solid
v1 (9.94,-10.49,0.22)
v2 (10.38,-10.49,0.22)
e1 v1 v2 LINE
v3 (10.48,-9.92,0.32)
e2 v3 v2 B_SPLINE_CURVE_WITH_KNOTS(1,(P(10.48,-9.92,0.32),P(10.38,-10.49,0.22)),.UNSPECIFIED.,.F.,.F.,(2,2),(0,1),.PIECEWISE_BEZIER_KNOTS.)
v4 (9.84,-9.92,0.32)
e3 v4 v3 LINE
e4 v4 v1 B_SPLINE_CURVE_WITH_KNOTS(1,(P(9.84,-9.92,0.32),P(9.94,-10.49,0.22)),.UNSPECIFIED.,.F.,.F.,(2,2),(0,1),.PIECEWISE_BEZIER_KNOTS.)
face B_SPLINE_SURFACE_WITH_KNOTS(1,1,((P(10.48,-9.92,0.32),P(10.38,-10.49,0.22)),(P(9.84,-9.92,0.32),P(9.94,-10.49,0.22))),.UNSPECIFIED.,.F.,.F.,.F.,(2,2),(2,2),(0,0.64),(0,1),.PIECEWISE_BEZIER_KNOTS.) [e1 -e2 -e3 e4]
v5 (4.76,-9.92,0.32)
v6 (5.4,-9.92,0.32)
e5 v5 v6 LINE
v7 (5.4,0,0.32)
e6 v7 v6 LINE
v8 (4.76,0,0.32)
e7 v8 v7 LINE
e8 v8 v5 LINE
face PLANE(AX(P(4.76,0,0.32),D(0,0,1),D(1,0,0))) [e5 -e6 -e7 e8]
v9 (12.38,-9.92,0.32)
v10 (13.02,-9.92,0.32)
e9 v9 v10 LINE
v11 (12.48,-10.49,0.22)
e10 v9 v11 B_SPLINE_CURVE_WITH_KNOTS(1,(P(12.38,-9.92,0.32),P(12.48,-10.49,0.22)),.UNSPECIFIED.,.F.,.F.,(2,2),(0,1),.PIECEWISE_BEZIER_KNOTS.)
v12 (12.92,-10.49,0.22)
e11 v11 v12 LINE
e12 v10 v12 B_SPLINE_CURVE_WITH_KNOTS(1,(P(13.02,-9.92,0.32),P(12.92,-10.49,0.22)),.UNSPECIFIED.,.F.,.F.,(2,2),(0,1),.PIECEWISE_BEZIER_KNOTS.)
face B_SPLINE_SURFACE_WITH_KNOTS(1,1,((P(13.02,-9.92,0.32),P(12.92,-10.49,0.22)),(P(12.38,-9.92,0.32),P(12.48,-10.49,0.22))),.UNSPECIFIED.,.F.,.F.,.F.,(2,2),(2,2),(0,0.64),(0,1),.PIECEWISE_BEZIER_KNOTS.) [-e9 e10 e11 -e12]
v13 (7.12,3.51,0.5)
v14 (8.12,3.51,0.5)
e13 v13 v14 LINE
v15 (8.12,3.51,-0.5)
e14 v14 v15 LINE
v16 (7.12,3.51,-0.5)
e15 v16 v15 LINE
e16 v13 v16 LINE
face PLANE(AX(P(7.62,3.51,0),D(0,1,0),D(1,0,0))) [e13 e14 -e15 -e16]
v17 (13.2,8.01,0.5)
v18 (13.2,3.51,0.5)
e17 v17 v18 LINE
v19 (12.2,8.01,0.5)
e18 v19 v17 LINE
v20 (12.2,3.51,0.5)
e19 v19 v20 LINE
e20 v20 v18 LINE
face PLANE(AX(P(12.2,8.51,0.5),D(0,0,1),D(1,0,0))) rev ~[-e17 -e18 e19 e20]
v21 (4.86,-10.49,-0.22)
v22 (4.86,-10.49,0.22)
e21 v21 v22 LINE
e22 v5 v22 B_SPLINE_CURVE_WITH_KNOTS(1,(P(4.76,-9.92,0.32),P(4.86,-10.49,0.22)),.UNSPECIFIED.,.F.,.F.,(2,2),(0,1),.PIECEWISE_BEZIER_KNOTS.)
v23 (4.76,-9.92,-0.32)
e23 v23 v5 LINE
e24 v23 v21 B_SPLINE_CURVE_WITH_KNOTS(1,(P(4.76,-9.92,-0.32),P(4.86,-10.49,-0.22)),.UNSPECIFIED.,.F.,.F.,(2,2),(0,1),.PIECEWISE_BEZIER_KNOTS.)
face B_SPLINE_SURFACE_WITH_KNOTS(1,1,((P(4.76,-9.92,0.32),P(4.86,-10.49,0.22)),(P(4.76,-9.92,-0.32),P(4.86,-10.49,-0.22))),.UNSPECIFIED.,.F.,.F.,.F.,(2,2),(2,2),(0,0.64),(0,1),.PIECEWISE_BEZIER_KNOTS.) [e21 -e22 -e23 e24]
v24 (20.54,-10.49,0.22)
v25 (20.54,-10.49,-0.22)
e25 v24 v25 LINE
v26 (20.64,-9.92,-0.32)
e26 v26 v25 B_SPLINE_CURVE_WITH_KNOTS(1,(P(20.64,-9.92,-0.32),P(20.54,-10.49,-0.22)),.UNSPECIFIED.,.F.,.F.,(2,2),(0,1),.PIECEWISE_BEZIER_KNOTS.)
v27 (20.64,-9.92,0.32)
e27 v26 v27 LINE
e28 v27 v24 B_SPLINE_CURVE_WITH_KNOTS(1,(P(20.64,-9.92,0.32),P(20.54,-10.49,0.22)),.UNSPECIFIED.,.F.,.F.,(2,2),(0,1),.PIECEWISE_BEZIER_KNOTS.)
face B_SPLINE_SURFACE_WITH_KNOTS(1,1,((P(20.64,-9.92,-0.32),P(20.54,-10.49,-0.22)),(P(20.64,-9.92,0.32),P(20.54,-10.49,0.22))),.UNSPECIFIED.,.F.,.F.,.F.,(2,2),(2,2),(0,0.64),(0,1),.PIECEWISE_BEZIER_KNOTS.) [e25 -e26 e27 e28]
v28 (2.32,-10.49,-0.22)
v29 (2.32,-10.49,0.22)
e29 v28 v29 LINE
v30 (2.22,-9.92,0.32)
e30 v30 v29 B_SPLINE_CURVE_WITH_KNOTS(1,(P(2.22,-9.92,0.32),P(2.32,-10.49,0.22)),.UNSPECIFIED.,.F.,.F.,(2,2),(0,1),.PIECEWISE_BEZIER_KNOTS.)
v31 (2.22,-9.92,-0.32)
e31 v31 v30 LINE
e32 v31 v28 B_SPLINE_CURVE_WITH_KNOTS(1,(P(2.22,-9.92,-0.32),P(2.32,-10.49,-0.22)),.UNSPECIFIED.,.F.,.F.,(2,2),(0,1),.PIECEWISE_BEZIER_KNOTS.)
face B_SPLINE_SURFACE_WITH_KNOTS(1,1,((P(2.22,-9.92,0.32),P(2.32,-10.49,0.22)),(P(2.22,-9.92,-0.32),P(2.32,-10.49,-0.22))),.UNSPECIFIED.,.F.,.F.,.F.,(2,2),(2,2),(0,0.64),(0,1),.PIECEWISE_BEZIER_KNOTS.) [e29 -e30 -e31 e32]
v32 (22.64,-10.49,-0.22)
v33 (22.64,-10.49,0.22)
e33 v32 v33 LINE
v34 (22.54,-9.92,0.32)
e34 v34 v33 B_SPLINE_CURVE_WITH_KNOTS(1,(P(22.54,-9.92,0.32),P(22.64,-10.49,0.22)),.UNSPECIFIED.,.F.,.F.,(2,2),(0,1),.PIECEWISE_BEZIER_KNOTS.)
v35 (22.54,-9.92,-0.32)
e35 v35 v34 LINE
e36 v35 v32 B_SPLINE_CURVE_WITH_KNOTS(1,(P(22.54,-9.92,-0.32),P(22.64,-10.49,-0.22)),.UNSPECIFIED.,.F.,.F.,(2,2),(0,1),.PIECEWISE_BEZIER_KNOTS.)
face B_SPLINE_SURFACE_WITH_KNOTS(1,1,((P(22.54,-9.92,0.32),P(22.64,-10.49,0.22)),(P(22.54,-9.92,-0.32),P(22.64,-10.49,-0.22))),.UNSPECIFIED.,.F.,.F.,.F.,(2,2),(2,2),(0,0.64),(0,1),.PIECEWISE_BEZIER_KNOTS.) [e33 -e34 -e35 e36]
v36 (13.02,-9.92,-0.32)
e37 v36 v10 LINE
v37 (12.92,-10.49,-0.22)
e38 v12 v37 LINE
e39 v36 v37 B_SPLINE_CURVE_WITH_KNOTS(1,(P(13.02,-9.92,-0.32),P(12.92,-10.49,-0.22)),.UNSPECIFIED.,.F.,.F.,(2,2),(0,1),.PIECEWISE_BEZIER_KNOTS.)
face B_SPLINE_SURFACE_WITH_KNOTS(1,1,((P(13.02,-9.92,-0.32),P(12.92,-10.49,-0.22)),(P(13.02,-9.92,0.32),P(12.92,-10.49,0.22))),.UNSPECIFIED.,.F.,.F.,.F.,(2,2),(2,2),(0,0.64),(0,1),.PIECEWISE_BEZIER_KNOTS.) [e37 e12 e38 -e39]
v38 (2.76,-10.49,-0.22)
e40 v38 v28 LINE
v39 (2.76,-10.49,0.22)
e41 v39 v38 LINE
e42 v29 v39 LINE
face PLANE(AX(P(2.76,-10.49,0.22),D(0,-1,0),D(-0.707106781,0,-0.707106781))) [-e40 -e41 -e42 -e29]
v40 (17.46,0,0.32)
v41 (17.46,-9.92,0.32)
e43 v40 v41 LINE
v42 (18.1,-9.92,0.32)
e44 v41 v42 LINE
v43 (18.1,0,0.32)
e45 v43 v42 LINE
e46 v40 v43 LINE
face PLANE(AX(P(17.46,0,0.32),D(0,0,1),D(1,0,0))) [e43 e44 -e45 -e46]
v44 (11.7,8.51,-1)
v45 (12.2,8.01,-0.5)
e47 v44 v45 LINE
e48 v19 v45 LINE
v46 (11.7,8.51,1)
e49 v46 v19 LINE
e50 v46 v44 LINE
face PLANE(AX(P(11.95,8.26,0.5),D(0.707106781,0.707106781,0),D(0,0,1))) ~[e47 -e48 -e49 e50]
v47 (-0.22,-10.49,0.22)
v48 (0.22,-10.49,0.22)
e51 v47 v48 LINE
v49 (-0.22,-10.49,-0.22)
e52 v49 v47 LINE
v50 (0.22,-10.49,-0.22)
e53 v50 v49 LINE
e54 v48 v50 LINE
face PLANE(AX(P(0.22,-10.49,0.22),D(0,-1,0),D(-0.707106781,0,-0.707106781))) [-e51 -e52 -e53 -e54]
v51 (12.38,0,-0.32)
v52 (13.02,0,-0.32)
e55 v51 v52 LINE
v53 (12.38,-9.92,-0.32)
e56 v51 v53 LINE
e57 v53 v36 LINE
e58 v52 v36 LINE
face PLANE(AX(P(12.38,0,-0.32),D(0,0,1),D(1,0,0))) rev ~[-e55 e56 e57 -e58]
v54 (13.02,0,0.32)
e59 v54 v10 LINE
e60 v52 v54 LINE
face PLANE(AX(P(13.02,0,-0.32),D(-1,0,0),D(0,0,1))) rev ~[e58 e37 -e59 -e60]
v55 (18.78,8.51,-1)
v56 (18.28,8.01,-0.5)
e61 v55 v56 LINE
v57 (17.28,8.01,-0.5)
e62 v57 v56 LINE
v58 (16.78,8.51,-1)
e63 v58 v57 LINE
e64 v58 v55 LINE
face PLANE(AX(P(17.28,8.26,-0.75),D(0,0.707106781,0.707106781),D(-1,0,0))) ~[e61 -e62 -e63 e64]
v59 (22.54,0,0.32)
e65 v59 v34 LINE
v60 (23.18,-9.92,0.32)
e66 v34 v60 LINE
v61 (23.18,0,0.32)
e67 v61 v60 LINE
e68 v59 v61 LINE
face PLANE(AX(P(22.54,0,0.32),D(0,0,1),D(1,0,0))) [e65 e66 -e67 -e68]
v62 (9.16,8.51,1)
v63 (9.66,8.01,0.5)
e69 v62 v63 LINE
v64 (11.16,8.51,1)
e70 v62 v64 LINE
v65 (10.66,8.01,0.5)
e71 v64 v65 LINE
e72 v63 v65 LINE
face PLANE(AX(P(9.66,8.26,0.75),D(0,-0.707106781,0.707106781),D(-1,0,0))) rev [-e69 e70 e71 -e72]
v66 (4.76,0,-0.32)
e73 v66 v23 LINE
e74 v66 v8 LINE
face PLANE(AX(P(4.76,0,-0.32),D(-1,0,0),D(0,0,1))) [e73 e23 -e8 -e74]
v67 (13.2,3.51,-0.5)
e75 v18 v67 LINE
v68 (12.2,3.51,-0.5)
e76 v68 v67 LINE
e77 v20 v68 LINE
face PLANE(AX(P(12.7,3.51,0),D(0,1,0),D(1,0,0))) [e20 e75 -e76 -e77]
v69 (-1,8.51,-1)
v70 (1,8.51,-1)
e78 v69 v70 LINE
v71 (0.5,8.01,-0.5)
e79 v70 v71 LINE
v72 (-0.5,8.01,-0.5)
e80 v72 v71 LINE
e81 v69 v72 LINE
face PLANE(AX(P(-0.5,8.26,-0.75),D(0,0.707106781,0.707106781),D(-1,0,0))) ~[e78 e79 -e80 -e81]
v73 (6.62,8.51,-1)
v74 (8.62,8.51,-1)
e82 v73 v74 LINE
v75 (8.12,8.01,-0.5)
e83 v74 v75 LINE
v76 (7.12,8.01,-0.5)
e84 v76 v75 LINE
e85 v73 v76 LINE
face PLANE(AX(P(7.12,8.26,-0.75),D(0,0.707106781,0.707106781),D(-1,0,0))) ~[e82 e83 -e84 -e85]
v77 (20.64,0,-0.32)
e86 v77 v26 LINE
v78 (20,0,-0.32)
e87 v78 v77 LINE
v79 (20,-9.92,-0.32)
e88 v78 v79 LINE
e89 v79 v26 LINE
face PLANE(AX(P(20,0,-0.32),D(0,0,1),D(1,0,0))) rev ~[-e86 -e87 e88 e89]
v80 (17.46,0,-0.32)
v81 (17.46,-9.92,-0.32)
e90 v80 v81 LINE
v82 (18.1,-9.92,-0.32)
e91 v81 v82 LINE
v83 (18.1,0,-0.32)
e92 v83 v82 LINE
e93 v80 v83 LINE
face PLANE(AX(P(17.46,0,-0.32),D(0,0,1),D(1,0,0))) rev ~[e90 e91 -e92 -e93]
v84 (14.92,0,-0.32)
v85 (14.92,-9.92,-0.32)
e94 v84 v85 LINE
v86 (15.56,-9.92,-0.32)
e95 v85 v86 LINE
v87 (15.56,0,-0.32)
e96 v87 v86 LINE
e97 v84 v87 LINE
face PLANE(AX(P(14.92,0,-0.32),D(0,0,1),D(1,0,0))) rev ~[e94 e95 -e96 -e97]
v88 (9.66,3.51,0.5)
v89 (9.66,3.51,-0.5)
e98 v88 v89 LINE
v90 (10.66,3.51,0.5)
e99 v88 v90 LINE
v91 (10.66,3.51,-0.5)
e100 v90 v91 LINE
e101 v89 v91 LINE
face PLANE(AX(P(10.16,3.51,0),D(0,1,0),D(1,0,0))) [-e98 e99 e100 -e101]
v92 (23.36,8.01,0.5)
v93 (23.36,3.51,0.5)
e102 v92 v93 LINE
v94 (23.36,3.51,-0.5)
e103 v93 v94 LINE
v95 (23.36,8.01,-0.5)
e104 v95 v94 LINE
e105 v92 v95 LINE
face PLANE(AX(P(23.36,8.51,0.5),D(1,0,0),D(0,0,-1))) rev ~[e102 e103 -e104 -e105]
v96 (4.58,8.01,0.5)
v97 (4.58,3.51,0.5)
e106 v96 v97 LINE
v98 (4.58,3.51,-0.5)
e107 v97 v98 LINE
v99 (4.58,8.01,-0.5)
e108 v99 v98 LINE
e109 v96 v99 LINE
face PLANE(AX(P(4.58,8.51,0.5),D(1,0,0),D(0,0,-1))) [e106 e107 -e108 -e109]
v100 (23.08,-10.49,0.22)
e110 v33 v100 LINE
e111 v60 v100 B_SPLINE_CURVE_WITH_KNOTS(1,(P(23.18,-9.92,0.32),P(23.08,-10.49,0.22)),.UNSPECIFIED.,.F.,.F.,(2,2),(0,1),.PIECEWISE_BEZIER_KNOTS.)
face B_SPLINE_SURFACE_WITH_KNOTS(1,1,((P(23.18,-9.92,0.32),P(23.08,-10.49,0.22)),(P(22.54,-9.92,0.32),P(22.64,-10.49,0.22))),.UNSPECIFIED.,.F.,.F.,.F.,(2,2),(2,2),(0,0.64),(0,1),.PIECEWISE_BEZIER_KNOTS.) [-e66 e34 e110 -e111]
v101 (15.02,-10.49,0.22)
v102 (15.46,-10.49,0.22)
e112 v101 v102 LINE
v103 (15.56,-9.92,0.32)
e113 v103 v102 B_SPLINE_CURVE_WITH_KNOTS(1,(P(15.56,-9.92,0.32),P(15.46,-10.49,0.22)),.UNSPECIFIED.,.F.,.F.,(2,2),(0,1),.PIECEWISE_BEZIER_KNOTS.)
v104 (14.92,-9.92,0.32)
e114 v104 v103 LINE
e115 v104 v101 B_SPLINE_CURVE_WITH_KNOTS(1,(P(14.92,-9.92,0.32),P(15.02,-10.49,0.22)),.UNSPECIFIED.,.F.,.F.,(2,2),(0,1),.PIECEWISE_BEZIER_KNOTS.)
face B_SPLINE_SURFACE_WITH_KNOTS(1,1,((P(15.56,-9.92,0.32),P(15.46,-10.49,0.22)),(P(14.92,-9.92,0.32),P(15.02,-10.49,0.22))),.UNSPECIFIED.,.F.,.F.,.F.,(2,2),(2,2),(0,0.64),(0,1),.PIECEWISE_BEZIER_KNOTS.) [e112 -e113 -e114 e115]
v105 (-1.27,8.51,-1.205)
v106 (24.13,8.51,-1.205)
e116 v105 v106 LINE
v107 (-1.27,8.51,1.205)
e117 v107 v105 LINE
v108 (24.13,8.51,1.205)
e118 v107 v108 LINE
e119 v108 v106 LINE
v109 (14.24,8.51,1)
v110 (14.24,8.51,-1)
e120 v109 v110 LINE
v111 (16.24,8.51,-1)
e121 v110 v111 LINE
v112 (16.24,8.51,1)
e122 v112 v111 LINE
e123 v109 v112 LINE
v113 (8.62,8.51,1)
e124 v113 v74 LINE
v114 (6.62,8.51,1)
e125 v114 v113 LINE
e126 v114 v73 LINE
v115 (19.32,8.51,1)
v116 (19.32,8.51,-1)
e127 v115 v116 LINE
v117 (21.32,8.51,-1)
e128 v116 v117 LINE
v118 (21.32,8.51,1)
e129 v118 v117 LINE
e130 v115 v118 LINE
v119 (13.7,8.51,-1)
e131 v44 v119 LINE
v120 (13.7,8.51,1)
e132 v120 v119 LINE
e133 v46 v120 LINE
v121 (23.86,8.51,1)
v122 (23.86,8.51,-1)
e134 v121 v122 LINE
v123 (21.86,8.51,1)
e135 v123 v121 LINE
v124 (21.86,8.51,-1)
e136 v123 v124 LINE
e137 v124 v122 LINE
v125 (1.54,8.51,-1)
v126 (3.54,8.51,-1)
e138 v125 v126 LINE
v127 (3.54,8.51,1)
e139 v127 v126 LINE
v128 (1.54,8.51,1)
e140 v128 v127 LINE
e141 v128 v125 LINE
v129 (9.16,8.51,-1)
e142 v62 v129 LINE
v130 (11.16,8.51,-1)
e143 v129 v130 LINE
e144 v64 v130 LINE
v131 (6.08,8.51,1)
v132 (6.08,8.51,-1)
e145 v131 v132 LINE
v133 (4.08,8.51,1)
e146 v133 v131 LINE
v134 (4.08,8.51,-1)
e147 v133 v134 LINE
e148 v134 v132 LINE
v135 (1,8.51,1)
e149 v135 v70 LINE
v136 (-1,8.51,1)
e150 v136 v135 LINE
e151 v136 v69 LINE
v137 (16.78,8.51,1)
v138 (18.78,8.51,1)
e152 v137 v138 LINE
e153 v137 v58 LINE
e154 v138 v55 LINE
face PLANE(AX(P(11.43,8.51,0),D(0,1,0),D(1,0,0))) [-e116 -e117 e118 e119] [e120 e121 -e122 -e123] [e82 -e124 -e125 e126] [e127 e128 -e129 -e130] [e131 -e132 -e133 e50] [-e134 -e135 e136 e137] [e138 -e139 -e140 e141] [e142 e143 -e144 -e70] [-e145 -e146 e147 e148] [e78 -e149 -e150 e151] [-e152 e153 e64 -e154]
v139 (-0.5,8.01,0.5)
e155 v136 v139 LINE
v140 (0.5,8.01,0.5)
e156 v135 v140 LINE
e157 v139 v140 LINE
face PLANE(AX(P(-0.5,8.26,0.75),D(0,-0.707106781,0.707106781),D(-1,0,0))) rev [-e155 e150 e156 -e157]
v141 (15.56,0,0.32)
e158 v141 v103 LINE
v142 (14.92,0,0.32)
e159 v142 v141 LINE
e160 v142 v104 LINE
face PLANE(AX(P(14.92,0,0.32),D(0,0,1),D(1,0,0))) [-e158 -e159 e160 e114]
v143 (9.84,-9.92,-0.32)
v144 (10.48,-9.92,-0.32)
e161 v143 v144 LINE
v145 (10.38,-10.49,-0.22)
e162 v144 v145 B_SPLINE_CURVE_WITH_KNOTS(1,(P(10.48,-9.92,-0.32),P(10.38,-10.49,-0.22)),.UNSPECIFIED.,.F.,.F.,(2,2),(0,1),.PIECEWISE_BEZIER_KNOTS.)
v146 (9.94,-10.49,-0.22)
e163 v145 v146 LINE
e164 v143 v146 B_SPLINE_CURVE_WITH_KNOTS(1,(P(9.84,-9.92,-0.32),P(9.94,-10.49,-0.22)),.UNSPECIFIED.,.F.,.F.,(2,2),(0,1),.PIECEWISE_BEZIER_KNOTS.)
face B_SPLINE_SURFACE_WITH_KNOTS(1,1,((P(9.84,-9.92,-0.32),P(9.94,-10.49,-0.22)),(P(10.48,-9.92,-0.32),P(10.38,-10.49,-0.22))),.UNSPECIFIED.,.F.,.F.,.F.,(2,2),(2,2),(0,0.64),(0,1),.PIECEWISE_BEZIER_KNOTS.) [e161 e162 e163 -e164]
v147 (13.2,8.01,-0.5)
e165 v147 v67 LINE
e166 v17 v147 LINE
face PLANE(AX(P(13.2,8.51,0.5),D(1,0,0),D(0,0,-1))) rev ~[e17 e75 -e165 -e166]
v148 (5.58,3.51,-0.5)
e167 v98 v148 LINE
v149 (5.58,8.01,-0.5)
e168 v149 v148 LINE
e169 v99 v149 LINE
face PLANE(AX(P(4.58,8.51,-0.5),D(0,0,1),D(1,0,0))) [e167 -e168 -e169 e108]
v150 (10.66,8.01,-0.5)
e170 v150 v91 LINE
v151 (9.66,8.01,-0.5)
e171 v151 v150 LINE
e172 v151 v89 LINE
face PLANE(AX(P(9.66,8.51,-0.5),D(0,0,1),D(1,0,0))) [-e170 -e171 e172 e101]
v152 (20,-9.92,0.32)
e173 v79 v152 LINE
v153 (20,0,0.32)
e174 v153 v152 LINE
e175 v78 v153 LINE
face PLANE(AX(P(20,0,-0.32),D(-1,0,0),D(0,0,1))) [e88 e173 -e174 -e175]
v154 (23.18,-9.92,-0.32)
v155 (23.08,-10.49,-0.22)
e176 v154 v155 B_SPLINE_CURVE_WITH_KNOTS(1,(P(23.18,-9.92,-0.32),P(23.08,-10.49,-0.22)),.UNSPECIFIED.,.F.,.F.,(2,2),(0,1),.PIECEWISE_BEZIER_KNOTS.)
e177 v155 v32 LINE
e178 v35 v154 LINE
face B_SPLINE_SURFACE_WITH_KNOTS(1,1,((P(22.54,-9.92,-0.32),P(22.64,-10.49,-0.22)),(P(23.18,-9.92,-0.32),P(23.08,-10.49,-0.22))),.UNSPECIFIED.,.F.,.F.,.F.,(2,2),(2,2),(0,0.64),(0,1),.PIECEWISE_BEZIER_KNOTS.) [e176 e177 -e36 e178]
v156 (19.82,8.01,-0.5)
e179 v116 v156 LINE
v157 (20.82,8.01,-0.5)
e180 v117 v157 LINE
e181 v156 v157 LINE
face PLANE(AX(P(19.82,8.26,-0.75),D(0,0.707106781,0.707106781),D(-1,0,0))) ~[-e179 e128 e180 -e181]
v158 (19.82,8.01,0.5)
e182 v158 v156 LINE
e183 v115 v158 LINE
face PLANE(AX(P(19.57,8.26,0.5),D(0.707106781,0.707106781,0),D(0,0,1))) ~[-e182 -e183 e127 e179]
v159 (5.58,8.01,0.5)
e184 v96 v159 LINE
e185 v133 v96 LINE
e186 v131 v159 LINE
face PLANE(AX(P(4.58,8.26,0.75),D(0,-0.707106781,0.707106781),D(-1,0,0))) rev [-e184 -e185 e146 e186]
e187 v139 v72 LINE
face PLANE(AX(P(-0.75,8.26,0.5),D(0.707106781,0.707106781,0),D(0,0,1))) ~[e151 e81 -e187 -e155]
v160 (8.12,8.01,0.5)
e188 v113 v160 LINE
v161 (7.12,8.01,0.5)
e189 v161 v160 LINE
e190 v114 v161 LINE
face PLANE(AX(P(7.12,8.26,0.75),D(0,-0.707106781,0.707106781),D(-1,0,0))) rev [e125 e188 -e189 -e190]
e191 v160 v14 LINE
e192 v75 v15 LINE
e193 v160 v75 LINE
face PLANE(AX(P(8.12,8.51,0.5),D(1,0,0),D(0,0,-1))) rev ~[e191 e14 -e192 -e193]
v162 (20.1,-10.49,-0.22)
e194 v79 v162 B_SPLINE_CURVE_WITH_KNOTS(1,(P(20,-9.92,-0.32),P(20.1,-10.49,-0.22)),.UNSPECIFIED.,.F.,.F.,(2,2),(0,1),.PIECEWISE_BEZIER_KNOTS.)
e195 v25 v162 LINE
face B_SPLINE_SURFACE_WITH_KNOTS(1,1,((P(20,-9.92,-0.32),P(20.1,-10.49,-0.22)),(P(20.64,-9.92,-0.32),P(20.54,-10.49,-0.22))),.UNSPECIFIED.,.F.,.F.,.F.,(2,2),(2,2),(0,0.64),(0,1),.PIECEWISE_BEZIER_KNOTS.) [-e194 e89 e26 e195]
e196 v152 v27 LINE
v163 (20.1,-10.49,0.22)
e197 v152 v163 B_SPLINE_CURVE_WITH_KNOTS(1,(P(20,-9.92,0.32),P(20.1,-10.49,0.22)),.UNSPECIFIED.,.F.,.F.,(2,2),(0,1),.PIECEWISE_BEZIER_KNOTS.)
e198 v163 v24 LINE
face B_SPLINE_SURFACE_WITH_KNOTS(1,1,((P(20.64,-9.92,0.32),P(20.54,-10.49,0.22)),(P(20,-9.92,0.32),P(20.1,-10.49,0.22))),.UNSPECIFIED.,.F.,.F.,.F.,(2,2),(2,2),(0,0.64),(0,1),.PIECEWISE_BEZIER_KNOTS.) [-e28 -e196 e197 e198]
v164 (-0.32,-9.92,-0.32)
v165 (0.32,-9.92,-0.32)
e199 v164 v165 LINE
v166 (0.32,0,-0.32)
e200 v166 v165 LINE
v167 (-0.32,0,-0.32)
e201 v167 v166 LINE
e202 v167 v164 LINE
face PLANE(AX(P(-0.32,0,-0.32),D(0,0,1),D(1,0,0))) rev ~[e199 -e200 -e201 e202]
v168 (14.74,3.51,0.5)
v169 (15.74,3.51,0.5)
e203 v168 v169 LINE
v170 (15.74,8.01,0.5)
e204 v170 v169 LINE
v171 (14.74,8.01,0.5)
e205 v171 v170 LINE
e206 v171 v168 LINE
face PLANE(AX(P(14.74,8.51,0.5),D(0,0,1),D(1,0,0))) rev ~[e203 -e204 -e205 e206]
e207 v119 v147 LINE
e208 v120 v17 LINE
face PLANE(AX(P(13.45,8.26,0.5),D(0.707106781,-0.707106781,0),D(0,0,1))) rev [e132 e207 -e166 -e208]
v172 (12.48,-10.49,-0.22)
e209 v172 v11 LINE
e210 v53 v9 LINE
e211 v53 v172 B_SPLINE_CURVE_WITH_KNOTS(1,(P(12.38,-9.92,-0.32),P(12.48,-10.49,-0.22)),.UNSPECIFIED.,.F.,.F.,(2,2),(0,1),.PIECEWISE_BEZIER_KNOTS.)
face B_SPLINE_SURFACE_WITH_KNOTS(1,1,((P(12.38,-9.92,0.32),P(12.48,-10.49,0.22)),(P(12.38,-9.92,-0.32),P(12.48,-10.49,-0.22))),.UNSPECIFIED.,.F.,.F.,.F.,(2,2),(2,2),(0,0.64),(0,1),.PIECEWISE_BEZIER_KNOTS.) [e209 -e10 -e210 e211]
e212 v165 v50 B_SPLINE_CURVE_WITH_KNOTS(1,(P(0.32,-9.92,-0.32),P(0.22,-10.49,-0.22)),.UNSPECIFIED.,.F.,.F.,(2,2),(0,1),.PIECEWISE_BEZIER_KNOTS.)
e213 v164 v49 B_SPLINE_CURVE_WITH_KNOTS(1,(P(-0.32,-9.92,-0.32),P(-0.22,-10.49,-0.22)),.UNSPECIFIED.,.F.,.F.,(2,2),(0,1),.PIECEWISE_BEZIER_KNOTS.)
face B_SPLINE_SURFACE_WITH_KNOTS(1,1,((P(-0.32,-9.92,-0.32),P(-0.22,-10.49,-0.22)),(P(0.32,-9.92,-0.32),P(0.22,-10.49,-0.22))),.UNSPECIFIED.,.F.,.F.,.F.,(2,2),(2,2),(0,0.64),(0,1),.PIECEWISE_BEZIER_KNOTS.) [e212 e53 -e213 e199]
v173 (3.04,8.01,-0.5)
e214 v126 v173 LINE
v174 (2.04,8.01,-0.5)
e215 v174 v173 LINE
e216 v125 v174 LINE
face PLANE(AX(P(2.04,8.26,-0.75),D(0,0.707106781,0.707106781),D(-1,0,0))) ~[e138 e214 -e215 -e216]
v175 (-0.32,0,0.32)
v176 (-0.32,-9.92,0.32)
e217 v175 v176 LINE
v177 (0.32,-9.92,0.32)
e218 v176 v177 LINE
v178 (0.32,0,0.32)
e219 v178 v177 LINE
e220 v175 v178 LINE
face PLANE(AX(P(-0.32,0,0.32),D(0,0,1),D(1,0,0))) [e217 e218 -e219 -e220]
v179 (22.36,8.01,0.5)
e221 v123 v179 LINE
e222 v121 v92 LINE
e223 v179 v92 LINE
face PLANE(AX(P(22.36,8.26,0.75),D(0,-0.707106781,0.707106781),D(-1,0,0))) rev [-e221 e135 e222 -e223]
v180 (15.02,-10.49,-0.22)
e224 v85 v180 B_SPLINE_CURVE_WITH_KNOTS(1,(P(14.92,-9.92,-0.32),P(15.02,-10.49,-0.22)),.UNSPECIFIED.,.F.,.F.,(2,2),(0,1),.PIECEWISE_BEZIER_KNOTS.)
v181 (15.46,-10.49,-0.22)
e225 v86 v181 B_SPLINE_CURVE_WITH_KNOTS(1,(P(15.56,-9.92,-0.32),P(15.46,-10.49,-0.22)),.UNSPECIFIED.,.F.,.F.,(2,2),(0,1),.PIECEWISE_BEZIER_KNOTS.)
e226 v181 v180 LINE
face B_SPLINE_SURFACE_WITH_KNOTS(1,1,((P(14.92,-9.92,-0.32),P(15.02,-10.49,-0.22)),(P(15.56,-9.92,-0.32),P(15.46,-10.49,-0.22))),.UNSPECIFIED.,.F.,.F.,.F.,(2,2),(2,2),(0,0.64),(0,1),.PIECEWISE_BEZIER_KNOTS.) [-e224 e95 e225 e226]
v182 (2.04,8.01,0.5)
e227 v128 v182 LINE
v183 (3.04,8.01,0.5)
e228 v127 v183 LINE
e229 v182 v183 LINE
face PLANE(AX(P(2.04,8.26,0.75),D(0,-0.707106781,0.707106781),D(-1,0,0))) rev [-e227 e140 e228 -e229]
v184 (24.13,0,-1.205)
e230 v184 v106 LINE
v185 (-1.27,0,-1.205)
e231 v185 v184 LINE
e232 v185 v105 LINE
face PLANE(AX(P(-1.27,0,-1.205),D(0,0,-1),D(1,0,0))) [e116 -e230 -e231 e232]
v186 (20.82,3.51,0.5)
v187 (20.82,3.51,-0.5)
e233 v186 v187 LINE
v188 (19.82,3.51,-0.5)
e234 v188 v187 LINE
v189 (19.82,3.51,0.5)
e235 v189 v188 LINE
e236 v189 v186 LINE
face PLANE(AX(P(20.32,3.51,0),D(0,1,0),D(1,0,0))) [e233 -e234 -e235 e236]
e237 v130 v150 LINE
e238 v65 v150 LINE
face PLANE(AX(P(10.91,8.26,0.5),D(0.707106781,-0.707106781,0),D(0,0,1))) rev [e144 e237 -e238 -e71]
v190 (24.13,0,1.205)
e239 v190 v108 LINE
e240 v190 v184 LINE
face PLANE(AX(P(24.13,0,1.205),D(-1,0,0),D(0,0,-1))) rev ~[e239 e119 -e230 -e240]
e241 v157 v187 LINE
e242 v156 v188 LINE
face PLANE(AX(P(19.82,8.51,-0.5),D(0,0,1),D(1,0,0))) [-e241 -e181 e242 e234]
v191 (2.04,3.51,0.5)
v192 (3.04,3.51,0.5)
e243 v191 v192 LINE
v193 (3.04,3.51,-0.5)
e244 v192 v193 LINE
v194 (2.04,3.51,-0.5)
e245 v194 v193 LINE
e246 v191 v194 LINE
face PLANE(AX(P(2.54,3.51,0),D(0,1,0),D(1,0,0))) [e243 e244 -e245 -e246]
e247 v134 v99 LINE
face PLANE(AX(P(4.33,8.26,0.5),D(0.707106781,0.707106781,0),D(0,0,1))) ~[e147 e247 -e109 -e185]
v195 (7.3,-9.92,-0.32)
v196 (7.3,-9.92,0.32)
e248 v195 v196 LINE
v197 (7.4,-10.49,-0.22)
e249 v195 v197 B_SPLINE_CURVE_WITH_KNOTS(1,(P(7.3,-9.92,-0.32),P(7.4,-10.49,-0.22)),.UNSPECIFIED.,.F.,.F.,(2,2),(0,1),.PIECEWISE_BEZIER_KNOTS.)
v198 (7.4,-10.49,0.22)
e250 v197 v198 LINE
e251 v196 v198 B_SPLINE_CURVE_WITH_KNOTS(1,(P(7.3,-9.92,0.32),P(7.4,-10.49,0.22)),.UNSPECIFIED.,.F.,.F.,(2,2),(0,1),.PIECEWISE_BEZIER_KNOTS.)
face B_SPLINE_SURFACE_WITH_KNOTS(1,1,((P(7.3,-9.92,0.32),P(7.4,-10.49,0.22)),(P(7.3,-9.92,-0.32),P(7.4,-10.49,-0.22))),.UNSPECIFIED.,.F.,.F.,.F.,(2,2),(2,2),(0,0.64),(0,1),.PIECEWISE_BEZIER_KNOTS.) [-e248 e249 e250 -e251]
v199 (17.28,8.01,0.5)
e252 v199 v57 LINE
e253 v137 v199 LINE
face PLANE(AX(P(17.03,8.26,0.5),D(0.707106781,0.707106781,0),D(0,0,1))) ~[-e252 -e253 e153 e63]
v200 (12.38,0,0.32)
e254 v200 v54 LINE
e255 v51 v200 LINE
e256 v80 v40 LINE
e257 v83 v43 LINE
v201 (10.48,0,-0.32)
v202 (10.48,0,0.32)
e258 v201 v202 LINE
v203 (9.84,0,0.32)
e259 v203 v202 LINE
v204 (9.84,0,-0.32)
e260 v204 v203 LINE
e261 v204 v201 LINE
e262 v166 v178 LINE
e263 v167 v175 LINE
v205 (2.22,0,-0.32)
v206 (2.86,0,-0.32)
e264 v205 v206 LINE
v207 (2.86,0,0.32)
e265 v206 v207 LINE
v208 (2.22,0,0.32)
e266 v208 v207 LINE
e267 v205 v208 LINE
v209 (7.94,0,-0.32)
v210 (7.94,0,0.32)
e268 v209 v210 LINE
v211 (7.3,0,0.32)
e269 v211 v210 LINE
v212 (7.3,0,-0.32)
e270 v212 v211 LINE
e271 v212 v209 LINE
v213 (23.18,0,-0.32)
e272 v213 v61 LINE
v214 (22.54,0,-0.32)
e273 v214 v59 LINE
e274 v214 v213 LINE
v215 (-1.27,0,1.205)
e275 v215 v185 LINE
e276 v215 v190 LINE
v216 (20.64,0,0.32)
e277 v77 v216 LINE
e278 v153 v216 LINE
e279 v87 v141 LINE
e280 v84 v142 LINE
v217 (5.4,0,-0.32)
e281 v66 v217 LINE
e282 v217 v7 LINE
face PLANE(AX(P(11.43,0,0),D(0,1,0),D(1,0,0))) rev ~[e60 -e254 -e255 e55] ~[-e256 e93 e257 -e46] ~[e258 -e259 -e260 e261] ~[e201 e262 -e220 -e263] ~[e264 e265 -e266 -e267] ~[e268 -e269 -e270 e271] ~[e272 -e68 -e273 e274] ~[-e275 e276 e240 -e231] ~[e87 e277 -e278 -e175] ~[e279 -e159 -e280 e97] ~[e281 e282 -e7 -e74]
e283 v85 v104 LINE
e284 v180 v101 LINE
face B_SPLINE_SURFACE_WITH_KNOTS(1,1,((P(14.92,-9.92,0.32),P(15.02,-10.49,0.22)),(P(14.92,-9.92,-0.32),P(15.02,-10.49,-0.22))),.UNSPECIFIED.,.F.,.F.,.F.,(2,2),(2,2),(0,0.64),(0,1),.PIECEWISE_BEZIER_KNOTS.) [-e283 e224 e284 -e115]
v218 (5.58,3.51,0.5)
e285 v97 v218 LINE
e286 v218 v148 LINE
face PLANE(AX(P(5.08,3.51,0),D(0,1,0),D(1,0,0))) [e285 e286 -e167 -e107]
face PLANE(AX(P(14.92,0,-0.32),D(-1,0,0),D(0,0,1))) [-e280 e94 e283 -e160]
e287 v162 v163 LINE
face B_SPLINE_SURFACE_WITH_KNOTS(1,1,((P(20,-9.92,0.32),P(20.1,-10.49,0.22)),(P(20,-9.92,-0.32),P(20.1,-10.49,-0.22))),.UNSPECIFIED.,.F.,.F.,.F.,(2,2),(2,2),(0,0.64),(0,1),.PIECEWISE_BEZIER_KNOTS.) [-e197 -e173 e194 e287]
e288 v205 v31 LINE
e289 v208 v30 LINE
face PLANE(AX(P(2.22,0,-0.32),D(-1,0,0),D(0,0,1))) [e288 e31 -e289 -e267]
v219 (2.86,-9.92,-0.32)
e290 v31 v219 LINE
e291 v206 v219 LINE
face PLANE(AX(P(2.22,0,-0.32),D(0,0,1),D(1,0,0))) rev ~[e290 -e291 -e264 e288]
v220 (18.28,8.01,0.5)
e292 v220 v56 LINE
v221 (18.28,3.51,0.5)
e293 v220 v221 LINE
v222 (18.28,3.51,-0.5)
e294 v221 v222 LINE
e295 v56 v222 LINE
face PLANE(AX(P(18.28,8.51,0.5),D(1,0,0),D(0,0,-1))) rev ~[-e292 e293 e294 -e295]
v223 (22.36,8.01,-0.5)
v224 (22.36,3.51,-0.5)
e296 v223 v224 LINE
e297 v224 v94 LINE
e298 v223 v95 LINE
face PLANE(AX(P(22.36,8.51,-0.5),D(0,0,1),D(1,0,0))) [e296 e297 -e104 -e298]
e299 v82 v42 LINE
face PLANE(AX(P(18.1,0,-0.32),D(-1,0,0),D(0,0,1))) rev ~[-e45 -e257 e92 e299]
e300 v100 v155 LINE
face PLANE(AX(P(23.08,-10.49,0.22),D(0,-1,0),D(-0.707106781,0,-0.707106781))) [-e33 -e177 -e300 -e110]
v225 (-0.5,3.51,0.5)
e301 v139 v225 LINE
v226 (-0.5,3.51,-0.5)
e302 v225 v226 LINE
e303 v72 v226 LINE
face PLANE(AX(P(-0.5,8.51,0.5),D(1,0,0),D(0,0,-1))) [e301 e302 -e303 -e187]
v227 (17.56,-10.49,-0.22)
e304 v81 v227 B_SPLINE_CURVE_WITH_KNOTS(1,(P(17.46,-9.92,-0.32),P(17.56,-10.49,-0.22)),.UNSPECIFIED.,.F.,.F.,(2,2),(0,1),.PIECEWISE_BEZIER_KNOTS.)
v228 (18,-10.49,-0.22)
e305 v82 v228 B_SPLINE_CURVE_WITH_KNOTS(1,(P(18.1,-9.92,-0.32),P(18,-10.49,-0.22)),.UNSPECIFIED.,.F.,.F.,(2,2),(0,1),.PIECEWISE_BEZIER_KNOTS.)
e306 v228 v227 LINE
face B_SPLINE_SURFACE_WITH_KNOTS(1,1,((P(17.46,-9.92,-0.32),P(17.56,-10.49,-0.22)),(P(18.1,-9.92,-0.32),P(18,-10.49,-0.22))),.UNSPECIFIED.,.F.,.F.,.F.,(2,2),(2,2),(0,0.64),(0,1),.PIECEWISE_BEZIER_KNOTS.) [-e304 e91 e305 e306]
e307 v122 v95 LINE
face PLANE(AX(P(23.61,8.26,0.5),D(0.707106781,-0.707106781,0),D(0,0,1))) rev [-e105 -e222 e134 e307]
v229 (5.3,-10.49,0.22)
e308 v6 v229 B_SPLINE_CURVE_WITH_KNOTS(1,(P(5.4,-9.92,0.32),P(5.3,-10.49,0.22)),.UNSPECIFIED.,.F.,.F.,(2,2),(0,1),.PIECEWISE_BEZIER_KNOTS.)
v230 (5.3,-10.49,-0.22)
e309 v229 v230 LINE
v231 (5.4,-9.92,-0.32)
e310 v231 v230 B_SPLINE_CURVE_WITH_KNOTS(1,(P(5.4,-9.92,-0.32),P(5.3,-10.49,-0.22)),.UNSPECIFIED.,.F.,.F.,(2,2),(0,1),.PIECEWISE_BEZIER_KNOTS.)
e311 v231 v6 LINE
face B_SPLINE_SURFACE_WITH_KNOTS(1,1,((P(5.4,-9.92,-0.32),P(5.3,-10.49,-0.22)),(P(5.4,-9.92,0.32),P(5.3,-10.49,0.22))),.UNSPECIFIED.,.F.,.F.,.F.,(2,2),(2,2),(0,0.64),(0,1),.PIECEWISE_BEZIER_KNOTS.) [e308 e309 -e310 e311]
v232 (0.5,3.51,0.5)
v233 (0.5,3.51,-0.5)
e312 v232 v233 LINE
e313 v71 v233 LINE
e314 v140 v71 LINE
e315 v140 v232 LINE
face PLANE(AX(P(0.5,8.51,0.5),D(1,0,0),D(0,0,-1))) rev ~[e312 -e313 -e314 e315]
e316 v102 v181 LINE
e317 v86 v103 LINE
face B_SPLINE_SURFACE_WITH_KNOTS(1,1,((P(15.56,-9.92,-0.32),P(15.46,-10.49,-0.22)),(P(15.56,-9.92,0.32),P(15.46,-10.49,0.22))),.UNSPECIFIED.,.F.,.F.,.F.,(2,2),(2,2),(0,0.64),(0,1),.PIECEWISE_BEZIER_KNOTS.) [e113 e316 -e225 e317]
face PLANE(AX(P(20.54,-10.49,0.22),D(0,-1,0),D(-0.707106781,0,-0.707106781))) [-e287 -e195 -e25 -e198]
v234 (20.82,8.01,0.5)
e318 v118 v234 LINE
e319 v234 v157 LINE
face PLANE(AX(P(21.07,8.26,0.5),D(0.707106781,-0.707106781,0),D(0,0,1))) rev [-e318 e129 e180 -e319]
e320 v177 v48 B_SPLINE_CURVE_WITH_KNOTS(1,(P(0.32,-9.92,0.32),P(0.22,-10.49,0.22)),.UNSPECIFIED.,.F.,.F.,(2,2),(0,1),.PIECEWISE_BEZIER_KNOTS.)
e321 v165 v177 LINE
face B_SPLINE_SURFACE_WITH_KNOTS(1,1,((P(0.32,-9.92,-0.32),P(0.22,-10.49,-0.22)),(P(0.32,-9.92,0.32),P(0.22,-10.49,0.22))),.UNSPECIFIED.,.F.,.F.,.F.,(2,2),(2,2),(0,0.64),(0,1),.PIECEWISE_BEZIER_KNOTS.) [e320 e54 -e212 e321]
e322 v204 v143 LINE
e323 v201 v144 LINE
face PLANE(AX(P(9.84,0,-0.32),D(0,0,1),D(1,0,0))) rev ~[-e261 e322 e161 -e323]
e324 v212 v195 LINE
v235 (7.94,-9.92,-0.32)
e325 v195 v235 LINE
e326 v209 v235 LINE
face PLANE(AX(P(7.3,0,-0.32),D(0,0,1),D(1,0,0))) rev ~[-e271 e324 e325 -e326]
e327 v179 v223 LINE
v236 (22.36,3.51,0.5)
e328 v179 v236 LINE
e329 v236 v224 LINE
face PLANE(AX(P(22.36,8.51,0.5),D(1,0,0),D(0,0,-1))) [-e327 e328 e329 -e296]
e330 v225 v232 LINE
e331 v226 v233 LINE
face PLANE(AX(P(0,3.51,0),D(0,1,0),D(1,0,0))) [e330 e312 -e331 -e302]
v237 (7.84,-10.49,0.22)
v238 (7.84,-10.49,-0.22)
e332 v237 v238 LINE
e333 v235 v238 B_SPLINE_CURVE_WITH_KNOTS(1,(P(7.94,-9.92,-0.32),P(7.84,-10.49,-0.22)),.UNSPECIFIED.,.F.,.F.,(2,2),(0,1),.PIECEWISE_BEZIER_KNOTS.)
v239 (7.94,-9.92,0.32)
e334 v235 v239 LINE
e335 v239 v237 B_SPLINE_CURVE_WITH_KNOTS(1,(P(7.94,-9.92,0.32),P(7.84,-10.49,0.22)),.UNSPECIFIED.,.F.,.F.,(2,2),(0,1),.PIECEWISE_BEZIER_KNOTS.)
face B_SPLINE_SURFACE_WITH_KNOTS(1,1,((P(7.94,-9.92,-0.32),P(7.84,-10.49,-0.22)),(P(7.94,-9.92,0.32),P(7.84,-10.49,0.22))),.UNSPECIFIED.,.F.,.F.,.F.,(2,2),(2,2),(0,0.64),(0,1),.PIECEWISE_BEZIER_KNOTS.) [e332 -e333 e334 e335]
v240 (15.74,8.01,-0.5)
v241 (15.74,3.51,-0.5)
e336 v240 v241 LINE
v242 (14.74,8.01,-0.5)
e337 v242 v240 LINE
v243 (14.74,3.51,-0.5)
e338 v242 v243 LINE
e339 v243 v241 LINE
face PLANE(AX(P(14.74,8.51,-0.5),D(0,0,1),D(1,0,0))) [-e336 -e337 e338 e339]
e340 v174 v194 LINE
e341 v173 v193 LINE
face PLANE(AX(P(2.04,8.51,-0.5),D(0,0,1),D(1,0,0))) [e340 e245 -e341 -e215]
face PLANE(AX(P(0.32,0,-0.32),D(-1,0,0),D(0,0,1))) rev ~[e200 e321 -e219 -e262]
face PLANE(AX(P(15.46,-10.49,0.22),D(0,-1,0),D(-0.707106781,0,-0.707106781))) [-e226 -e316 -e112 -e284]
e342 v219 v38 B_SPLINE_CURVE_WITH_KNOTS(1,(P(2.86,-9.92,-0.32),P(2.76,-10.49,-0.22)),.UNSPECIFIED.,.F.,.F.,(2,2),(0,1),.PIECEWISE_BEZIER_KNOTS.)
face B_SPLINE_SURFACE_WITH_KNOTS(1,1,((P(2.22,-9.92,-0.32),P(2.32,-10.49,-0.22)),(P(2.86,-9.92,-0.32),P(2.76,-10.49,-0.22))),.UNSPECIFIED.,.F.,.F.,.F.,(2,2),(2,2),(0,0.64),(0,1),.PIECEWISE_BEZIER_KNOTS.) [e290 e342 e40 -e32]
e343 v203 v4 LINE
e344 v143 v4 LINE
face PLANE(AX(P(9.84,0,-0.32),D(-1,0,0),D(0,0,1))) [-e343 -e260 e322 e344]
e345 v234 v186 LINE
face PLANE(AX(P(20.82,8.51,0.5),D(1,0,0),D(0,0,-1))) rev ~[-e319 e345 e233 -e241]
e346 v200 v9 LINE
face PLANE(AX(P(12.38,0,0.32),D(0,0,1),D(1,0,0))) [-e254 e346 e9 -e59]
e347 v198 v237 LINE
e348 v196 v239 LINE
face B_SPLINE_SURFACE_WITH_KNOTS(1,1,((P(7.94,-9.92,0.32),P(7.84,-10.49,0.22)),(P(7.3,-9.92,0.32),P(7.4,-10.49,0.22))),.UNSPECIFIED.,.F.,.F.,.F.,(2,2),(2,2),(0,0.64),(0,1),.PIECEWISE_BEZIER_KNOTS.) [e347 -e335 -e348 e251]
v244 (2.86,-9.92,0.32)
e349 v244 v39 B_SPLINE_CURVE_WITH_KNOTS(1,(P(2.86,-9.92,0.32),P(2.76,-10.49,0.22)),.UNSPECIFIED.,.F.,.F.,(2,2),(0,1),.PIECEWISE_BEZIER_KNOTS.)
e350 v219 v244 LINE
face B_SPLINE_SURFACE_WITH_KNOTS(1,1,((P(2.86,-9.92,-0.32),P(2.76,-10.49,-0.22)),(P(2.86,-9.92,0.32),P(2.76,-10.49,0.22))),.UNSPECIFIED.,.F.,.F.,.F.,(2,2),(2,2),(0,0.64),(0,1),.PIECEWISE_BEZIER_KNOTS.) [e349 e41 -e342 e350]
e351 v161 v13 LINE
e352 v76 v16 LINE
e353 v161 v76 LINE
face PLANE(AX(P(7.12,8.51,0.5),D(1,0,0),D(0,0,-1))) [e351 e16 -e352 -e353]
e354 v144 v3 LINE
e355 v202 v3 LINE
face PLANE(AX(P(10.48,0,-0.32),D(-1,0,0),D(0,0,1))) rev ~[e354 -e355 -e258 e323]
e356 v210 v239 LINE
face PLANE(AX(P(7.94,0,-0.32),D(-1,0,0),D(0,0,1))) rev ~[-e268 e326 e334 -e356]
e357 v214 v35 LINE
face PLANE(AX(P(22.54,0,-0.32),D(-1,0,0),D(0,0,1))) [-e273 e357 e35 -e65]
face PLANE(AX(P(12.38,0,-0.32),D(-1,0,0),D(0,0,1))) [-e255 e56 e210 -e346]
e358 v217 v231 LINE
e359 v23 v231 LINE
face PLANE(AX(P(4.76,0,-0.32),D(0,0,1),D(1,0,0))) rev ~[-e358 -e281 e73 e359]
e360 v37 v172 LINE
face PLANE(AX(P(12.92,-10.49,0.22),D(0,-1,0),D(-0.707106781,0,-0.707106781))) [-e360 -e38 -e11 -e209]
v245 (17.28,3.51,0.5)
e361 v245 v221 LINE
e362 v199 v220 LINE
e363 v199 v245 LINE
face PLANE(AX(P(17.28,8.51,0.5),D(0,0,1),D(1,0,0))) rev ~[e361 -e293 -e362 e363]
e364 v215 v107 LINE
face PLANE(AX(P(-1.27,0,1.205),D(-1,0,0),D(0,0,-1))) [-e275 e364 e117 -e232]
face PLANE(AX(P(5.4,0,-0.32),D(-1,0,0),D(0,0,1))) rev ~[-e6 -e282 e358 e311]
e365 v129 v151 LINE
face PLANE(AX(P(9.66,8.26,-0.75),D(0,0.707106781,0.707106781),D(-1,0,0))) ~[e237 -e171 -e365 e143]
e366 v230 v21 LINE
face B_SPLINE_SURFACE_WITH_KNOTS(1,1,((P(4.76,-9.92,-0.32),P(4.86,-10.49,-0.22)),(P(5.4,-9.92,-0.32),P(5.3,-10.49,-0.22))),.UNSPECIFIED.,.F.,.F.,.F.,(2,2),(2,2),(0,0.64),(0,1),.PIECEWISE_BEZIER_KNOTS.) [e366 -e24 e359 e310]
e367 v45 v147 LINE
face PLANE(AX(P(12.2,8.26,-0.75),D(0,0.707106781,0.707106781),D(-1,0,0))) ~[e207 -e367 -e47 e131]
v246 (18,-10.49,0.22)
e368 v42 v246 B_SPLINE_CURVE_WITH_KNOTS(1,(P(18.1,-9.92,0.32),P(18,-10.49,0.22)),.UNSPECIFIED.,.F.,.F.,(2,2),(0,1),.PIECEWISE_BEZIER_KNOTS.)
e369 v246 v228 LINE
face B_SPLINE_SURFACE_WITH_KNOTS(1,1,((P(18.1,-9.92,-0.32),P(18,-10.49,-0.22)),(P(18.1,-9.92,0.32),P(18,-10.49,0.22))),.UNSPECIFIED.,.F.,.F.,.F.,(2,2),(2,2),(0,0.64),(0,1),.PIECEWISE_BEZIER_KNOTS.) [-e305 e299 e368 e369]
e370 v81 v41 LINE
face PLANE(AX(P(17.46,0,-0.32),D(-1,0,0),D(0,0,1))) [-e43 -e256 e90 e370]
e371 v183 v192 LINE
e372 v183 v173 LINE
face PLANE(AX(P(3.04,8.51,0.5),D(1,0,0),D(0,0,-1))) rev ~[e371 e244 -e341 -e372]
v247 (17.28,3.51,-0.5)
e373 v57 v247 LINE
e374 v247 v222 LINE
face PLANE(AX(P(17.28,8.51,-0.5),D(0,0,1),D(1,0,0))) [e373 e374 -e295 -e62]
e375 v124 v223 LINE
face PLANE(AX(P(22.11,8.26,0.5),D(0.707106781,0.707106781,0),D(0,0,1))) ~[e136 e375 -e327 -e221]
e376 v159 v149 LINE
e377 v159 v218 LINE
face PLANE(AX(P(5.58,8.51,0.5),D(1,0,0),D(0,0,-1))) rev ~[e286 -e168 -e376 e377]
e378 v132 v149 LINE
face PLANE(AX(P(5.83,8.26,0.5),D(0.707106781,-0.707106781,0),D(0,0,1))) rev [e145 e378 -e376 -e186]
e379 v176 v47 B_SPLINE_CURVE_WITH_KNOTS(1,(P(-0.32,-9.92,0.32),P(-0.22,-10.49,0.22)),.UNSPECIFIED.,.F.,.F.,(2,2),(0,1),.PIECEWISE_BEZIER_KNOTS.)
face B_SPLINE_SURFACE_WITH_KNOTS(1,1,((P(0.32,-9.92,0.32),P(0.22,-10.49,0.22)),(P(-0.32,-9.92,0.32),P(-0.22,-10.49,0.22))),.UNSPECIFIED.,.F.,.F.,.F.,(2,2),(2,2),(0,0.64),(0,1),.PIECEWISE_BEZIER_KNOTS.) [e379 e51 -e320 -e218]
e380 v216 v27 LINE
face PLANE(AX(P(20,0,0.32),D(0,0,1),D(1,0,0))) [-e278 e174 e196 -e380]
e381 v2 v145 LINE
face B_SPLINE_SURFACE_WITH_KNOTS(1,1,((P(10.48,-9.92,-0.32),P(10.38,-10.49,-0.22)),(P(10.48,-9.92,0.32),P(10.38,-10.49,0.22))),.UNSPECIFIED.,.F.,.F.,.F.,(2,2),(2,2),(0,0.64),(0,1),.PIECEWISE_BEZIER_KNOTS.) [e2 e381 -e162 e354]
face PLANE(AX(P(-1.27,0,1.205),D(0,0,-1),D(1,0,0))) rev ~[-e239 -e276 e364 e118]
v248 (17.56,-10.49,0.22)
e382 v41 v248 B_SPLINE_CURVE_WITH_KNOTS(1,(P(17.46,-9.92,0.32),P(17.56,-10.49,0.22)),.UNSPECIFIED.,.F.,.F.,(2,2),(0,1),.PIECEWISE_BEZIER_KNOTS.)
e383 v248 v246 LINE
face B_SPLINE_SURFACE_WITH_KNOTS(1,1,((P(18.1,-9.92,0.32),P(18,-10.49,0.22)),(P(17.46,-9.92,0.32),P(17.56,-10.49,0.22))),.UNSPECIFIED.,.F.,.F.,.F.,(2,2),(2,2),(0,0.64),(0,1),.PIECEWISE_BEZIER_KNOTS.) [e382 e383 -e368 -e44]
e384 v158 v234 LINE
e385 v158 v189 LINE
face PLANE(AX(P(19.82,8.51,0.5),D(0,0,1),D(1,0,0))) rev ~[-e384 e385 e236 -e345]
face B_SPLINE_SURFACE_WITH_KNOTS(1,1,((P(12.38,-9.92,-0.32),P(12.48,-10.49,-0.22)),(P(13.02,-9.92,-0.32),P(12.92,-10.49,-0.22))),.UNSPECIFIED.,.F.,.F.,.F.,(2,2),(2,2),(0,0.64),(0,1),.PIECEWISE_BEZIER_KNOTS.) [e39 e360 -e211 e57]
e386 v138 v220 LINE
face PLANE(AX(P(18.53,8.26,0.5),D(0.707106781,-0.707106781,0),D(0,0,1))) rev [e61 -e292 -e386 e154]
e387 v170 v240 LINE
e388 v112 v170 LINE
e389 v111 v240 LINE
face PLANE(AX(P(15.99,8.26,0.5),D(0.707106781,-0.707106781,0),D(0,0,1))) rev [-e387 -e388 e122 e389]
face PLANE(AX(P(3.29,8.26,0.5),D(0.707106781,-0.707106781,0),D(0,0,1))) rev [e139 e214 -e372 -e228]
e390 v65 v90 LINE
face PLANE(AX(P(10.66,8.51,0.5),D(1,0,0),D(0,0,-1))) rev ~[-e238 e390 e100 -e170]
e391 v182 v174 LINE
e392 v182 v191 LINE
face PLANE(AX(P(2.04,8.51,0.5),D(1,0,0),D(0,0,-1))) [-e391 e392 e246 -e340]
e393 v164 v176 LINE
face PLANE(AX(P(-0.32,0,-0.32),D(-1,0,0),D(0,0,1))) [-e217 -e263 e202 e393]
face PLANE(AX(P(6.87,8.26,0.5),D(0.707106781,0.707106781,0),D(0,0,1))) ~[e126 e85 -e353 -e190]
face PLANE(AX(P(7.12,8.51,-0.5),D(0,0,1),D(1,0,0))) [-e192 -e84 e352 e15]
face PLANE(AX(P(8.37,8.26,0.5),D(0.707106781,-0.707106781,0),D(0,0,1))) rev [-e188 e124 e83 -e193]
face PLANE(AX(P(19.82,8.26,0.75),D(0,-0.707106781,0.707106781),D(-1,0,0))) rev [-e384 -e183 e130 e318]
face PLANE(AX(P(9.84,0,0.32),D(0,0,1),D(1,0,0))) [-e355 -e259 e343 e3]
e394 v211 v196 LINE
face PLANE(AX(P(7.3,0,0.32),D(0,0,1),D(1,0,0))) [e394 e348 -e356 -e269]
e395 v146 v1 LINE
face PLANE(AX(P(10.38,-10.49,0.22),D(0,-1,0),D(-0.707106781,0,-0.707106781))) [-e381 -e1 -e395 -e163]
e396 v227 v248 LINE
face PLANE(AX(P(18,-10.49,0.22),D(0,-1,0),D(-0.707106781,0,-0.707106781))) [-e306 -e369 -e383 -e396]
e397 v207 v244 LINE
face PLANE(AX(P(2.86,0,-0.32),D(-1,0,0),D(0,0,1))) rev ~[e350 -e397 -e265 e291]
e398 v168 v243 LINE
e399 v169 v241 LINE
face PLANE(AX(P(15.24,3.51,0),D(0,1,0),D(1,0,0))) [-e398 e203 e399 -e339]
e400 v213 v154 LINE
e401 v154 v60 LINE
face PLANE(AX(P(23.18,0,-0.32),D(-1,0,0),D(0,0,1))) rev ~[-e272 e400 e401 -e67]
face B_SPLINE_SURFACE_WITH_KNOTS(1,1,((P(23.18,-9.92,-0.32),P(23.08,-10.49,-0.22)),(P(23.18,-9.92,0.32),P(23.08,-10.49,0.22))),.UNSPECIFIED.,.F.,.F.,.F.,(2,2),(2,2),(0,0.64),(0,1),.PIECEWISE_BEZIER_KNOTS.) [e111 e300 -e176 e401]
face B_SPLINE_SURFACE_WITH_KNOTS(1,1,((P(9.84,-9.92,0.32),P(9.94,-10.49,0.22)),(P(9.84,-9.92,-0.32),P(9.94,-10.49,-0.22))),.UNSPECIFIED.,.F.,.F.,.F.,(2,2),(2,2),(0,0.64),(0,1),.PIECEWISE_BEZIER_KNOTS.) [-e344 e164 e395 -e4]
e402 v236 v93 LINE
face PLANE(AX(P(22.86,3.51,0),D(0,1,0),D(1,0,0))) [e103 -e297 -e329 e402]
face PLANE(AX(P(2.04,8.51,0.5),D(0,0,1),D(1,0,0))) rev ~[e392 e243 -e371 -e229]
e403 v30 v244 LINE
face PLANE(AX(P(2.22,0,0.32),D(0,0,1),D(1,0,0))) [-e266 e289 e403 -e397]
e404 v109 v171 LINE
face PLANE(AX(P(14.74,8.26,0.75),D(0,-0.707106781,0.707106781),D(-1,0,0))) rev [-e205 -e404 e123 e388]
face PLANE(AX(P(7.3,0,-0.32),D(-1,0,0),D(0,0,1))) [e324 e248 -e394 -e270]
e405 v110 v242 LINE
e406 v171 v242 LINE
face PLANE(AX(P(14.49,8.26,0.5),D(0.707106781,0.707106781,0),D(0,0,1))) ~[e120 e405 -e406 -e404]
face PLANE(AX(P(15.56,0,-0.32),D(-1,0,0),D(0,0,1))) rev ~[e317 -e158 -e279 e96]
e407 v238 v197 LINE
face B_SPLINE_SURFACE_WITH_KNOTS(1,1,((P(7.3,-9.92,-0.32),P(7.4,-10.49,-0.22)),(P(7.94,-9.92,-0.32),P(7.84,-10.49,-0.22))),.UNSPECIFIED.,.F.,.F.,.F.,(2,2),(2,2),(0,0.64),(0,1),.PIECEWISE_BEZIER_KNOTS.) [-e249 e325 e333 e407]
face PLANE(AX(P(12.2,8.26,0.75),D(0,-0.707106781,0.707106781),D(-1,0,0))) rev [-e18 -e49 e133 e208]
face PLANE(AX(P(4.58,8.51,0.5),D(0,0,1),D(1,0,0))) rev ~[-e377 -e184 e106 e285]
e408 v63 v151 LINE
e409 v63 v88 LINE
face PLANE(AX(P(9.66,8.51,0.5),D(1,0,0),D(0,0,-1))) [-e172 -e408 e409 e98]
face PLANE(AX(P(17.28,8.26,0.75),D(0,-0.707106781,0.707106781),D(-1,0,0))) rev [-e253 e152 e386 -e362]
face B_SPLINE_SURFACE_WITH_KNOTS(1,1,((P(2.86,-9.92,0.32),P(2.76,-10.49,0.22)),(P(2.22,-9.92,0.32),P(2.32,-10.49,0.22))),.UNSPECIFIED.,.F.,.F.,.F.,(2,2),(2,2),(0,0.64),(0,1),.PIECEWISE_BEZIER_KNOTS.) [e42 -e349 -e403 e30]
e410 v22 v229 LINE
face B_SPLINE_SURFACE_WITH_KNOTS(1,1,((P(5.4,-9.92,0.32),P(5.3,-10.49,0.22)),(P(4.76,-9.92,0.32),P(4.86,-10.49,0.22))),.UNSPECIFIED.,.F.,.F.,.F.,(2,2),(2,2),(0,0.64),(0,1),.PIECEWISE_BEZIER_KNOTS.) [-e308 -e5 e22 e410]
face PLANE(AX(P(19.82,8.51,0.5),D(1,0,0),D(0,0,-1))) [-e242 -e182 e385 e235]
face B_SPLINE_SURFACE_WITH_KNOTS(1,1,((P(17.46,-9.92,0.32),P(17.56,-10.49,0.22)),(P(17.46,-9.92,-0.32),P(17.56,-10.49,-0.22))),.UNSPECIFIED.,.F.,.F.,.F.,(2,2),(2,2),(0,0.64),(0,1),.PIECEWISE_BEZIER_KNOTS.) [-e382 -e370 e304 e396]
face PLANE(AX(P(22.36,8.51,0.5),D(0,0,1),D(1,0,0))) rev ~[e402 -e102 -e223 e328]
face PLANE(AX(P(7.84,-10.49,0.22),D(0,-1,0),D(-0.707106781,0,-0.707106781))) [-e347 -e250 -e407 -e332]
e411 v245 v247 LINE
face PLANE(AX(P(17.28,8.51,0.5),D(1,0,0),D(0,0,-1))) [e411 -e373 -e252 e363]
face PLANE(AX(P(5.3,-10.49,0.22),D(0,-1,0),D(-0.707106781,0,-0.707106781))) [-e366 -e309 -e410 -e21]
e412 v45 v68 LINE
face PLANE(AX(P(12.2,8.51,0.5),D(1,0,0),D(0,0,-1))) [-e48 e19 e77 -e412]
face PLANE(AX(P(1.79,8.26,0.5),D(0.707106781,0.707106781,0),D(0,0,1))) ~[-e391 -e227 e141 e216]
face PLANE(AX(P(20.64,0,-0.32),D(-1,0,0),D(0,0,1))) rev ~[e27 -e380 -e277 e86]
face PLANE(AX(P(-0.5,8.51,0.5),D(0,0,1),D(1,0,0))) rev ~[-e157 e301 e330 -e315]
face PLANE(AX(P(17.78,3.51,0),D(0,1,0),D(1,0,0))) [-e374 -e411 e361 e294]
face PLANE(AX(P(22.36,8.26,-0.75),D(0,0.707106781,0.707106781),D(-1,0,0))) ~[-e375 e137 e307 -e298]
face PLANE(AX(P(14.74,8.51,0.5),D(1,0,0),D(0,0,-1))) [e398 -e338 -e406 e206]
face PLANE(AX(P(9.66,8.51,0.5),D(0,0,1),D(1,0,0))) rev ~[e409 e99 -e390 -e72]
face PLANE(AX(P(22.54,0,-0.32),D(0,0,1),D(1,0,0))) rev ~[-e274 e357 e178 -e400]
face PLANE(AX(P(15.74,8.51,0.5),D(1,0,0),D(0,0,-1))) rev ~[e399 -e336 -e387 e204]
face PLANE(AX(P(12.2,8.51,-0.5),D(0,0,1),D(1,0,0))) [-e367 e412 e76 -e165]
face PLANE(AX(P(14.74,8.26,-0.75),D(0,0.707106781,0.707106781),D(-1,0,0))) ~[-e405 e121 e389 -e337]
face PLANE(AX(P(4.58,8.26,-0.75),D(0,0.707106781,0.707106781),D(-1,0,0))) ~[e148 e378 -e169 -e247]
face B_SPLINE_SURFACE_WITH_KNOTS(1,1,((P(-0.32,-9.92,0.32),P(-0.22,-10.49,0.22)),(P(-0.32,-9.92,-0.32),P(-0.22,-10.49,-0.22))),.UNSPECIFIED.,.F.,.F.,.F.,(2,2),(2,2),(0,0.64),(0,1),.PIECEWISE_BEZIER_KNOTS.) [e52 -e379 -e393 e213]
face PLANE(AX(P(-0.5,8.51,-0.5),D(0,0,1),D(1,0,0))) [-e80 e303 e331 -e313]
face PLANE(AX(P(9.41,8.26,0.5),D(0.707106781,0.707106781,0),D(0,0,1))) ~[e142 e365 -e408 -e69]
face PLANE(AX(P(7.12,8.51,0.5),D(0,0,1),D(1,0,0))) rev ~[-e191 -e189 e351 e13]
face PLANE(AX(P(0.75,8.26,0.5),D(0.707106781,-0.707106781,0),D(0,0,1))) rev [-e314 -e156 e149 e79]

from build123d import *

# Parameters (mm, degrees)
SKETCH2_W                  = 25.4
SKETCH2_H                  = 2.41
BOSS_EXTRUDE1_DEPTH        = 8.51
SKETCH5_W                  = 1
SKETCH5_H                  = 1
CUT_EXTRUDE1_DEPTH         = 5
CHAMFER1_SIZE              = 0.5
LPATTERN3_COUNT            = 10
LPATTERN3_PITCH            = 2.54
CHAMFER1_OF_LPATTERN3_SIZE = 0.5
SKETCH11_W                 = 0.64
SKETCH11_H                 = 0.64
BOSS_EXTRUDE2_DEPTH        = 9.92
LPATTERN4_COUNT            = 10
LPATTERN4_PITCH            = 2.54


with BuildPart() as part:
    # Sketch2 → Boss-Extrude1 (new body)
    with BuildSketch(Plane(origin=(0, 0, 0), x_dir=(1, 0, 0), z_dir=(0, 1, 0))):
        with Locations((11.43, 0)):
            Rectangle(SKETCH2_W, SKETCH2_H)
    extrude(amount=BOSS_EXTRUDE1_DEPTH)

    # Sketch5 → Cut-Extrude1 (cut)
    with BuildSketch(Plane(origin=(0, 8.51, 0), x_dir=(1, 0, 0), z_dir=(0, 1, 0))):
        Rectangle(SKETCH5_W, SKETCH5_H)
    cut_extrude1 = extrude(amount=-CUT_EXTRUDE1_DEPTH, mode=Mode.SUBTRACT)

    # Chamfer1
    chamfer1_edges = [part.edges().sort_by_distance(p)[0] for p in [
        (0.5, 8.51, 0),
        (0, 8.51, -0.5),
        (-0.5, 8.51, 0),
        (0, 8.51, 0.5),
    ]]
    chamfer(chamfer1_edges, length=CHAMFER1_SIZE)

    # LPattern3: Cut-Extrude1 ×10
    with Locations(*[(i * LPATTERN3_PITCH, 0, 0) for i in range(1, LPATTERN3_COUNT)]):
        add(cut_extrude1, mode=Mode.SUBTRACT)

    # Chamfer1 of LPattern3
    chamfer1_of_lpattern3_edges = [part.edges().sort_by_distance(p)[0] for p in [
        (3.04, 8.51, 0),
        (2.54, 8.51, -0.5),
        (2.04, 8.51, 0),
        (2.54, 8.51, 0.5),
        (5.58, 8.51, 0),
        (5.08, 8.51, -0.5),
        (4.58, 8.51, 0),
        (5.08, 8.51, 0.5),
        (8.12, 8.51, 0),
        (7.62, 8.51, -0.5),
        (7.12, 8.51, 0),
        (7.62, 8.51, 0.5),
        (10.66, 8.51, 0),
        (10.16, 8.51, -0.5),
        (9.66, 8.51, 0),
        (10.16, 8.51, 0.5),
        (13.2, 8.51, 0),
        (12.7, 8.51, -0.5),
        (12.2, 8.51, 0),
        (12.7, 8.51, 0.5),
        (15.74, 8.51, 0),
        (15.24, 8.51, -0.5),
        (14.74, 8.51, 0),
        (15.24, 8.51, 0.5),
        (18.28, 8.51, 0),
        (17.78, 8.51, -0.5),
        (17.28, 8.51, 0),
        (17.78, 8.51, 0.5),
        (20.82, 8.51, 0),
        (20.32, 8.51, -0.5),
        (19.82, 8.51, 0),
        (20.32, 8.51, 0.5),
        (23.36, 8.51, 0),
        (22.86, 8.51, -0.5),
        (22.36, 8.51, 0),
        (22.86, 8.51, 0.5),
    ]]
    chamfer(chamfer1_of_lpattern3_edges, length=CHAMFER1_OF_LPATTERN3_SIZE)

    # Sketch11 → Boss-Extrude2 (add)
    with BuildSketch(Plane.XZ):
        Rectangle(SKETCH11_W, SKETCH11_H)
    boss_extrude2 = extrude(amount=BOSS_EXTRUDE2_DEPTH)

    # Sketch13 → Loft1 section 0
    with BuildSketch(Plane.XZ.offset(9.92)):
        with BuildLine():
            Line((0.32, -0.32), (0.32, 0.32))
            Line((0.32, 0.32), (-0.32, 0.32))
            Line((-0.32, 0.32), (-0.32, -0.32))
            Line((-0.32, -0.32), (0.32, -0.32))
        make_face()
    # Sketch14 → Loft1 section 1
    with BuildSketch(Plane(origin=(0, -10.49, 0), x_dir=(-1, 0, 0), z_dir=(0, -1, 0))):
        with BuildLine():
            Line((-0.22, 0.22), (0.22, 0.22))
            Line((0.22, 0.22), (0.22, -0.22))
            Line((0.22, -0.22), (-0.22, -0.22))
            Line((-0.22, -0.22), (-0.22, 0.22))
        make_face()
    loft1 = loft()

    # LPattern4: Boss-Extrude2, Loft1 ×10
    with Locations(*[(i * LPATTERN4_PITCH, 0, 0) for i in range(1, LPATTERN4_COUNT)]):
        add(boss_extrude2)
        add(loft1)


solid = part.part
